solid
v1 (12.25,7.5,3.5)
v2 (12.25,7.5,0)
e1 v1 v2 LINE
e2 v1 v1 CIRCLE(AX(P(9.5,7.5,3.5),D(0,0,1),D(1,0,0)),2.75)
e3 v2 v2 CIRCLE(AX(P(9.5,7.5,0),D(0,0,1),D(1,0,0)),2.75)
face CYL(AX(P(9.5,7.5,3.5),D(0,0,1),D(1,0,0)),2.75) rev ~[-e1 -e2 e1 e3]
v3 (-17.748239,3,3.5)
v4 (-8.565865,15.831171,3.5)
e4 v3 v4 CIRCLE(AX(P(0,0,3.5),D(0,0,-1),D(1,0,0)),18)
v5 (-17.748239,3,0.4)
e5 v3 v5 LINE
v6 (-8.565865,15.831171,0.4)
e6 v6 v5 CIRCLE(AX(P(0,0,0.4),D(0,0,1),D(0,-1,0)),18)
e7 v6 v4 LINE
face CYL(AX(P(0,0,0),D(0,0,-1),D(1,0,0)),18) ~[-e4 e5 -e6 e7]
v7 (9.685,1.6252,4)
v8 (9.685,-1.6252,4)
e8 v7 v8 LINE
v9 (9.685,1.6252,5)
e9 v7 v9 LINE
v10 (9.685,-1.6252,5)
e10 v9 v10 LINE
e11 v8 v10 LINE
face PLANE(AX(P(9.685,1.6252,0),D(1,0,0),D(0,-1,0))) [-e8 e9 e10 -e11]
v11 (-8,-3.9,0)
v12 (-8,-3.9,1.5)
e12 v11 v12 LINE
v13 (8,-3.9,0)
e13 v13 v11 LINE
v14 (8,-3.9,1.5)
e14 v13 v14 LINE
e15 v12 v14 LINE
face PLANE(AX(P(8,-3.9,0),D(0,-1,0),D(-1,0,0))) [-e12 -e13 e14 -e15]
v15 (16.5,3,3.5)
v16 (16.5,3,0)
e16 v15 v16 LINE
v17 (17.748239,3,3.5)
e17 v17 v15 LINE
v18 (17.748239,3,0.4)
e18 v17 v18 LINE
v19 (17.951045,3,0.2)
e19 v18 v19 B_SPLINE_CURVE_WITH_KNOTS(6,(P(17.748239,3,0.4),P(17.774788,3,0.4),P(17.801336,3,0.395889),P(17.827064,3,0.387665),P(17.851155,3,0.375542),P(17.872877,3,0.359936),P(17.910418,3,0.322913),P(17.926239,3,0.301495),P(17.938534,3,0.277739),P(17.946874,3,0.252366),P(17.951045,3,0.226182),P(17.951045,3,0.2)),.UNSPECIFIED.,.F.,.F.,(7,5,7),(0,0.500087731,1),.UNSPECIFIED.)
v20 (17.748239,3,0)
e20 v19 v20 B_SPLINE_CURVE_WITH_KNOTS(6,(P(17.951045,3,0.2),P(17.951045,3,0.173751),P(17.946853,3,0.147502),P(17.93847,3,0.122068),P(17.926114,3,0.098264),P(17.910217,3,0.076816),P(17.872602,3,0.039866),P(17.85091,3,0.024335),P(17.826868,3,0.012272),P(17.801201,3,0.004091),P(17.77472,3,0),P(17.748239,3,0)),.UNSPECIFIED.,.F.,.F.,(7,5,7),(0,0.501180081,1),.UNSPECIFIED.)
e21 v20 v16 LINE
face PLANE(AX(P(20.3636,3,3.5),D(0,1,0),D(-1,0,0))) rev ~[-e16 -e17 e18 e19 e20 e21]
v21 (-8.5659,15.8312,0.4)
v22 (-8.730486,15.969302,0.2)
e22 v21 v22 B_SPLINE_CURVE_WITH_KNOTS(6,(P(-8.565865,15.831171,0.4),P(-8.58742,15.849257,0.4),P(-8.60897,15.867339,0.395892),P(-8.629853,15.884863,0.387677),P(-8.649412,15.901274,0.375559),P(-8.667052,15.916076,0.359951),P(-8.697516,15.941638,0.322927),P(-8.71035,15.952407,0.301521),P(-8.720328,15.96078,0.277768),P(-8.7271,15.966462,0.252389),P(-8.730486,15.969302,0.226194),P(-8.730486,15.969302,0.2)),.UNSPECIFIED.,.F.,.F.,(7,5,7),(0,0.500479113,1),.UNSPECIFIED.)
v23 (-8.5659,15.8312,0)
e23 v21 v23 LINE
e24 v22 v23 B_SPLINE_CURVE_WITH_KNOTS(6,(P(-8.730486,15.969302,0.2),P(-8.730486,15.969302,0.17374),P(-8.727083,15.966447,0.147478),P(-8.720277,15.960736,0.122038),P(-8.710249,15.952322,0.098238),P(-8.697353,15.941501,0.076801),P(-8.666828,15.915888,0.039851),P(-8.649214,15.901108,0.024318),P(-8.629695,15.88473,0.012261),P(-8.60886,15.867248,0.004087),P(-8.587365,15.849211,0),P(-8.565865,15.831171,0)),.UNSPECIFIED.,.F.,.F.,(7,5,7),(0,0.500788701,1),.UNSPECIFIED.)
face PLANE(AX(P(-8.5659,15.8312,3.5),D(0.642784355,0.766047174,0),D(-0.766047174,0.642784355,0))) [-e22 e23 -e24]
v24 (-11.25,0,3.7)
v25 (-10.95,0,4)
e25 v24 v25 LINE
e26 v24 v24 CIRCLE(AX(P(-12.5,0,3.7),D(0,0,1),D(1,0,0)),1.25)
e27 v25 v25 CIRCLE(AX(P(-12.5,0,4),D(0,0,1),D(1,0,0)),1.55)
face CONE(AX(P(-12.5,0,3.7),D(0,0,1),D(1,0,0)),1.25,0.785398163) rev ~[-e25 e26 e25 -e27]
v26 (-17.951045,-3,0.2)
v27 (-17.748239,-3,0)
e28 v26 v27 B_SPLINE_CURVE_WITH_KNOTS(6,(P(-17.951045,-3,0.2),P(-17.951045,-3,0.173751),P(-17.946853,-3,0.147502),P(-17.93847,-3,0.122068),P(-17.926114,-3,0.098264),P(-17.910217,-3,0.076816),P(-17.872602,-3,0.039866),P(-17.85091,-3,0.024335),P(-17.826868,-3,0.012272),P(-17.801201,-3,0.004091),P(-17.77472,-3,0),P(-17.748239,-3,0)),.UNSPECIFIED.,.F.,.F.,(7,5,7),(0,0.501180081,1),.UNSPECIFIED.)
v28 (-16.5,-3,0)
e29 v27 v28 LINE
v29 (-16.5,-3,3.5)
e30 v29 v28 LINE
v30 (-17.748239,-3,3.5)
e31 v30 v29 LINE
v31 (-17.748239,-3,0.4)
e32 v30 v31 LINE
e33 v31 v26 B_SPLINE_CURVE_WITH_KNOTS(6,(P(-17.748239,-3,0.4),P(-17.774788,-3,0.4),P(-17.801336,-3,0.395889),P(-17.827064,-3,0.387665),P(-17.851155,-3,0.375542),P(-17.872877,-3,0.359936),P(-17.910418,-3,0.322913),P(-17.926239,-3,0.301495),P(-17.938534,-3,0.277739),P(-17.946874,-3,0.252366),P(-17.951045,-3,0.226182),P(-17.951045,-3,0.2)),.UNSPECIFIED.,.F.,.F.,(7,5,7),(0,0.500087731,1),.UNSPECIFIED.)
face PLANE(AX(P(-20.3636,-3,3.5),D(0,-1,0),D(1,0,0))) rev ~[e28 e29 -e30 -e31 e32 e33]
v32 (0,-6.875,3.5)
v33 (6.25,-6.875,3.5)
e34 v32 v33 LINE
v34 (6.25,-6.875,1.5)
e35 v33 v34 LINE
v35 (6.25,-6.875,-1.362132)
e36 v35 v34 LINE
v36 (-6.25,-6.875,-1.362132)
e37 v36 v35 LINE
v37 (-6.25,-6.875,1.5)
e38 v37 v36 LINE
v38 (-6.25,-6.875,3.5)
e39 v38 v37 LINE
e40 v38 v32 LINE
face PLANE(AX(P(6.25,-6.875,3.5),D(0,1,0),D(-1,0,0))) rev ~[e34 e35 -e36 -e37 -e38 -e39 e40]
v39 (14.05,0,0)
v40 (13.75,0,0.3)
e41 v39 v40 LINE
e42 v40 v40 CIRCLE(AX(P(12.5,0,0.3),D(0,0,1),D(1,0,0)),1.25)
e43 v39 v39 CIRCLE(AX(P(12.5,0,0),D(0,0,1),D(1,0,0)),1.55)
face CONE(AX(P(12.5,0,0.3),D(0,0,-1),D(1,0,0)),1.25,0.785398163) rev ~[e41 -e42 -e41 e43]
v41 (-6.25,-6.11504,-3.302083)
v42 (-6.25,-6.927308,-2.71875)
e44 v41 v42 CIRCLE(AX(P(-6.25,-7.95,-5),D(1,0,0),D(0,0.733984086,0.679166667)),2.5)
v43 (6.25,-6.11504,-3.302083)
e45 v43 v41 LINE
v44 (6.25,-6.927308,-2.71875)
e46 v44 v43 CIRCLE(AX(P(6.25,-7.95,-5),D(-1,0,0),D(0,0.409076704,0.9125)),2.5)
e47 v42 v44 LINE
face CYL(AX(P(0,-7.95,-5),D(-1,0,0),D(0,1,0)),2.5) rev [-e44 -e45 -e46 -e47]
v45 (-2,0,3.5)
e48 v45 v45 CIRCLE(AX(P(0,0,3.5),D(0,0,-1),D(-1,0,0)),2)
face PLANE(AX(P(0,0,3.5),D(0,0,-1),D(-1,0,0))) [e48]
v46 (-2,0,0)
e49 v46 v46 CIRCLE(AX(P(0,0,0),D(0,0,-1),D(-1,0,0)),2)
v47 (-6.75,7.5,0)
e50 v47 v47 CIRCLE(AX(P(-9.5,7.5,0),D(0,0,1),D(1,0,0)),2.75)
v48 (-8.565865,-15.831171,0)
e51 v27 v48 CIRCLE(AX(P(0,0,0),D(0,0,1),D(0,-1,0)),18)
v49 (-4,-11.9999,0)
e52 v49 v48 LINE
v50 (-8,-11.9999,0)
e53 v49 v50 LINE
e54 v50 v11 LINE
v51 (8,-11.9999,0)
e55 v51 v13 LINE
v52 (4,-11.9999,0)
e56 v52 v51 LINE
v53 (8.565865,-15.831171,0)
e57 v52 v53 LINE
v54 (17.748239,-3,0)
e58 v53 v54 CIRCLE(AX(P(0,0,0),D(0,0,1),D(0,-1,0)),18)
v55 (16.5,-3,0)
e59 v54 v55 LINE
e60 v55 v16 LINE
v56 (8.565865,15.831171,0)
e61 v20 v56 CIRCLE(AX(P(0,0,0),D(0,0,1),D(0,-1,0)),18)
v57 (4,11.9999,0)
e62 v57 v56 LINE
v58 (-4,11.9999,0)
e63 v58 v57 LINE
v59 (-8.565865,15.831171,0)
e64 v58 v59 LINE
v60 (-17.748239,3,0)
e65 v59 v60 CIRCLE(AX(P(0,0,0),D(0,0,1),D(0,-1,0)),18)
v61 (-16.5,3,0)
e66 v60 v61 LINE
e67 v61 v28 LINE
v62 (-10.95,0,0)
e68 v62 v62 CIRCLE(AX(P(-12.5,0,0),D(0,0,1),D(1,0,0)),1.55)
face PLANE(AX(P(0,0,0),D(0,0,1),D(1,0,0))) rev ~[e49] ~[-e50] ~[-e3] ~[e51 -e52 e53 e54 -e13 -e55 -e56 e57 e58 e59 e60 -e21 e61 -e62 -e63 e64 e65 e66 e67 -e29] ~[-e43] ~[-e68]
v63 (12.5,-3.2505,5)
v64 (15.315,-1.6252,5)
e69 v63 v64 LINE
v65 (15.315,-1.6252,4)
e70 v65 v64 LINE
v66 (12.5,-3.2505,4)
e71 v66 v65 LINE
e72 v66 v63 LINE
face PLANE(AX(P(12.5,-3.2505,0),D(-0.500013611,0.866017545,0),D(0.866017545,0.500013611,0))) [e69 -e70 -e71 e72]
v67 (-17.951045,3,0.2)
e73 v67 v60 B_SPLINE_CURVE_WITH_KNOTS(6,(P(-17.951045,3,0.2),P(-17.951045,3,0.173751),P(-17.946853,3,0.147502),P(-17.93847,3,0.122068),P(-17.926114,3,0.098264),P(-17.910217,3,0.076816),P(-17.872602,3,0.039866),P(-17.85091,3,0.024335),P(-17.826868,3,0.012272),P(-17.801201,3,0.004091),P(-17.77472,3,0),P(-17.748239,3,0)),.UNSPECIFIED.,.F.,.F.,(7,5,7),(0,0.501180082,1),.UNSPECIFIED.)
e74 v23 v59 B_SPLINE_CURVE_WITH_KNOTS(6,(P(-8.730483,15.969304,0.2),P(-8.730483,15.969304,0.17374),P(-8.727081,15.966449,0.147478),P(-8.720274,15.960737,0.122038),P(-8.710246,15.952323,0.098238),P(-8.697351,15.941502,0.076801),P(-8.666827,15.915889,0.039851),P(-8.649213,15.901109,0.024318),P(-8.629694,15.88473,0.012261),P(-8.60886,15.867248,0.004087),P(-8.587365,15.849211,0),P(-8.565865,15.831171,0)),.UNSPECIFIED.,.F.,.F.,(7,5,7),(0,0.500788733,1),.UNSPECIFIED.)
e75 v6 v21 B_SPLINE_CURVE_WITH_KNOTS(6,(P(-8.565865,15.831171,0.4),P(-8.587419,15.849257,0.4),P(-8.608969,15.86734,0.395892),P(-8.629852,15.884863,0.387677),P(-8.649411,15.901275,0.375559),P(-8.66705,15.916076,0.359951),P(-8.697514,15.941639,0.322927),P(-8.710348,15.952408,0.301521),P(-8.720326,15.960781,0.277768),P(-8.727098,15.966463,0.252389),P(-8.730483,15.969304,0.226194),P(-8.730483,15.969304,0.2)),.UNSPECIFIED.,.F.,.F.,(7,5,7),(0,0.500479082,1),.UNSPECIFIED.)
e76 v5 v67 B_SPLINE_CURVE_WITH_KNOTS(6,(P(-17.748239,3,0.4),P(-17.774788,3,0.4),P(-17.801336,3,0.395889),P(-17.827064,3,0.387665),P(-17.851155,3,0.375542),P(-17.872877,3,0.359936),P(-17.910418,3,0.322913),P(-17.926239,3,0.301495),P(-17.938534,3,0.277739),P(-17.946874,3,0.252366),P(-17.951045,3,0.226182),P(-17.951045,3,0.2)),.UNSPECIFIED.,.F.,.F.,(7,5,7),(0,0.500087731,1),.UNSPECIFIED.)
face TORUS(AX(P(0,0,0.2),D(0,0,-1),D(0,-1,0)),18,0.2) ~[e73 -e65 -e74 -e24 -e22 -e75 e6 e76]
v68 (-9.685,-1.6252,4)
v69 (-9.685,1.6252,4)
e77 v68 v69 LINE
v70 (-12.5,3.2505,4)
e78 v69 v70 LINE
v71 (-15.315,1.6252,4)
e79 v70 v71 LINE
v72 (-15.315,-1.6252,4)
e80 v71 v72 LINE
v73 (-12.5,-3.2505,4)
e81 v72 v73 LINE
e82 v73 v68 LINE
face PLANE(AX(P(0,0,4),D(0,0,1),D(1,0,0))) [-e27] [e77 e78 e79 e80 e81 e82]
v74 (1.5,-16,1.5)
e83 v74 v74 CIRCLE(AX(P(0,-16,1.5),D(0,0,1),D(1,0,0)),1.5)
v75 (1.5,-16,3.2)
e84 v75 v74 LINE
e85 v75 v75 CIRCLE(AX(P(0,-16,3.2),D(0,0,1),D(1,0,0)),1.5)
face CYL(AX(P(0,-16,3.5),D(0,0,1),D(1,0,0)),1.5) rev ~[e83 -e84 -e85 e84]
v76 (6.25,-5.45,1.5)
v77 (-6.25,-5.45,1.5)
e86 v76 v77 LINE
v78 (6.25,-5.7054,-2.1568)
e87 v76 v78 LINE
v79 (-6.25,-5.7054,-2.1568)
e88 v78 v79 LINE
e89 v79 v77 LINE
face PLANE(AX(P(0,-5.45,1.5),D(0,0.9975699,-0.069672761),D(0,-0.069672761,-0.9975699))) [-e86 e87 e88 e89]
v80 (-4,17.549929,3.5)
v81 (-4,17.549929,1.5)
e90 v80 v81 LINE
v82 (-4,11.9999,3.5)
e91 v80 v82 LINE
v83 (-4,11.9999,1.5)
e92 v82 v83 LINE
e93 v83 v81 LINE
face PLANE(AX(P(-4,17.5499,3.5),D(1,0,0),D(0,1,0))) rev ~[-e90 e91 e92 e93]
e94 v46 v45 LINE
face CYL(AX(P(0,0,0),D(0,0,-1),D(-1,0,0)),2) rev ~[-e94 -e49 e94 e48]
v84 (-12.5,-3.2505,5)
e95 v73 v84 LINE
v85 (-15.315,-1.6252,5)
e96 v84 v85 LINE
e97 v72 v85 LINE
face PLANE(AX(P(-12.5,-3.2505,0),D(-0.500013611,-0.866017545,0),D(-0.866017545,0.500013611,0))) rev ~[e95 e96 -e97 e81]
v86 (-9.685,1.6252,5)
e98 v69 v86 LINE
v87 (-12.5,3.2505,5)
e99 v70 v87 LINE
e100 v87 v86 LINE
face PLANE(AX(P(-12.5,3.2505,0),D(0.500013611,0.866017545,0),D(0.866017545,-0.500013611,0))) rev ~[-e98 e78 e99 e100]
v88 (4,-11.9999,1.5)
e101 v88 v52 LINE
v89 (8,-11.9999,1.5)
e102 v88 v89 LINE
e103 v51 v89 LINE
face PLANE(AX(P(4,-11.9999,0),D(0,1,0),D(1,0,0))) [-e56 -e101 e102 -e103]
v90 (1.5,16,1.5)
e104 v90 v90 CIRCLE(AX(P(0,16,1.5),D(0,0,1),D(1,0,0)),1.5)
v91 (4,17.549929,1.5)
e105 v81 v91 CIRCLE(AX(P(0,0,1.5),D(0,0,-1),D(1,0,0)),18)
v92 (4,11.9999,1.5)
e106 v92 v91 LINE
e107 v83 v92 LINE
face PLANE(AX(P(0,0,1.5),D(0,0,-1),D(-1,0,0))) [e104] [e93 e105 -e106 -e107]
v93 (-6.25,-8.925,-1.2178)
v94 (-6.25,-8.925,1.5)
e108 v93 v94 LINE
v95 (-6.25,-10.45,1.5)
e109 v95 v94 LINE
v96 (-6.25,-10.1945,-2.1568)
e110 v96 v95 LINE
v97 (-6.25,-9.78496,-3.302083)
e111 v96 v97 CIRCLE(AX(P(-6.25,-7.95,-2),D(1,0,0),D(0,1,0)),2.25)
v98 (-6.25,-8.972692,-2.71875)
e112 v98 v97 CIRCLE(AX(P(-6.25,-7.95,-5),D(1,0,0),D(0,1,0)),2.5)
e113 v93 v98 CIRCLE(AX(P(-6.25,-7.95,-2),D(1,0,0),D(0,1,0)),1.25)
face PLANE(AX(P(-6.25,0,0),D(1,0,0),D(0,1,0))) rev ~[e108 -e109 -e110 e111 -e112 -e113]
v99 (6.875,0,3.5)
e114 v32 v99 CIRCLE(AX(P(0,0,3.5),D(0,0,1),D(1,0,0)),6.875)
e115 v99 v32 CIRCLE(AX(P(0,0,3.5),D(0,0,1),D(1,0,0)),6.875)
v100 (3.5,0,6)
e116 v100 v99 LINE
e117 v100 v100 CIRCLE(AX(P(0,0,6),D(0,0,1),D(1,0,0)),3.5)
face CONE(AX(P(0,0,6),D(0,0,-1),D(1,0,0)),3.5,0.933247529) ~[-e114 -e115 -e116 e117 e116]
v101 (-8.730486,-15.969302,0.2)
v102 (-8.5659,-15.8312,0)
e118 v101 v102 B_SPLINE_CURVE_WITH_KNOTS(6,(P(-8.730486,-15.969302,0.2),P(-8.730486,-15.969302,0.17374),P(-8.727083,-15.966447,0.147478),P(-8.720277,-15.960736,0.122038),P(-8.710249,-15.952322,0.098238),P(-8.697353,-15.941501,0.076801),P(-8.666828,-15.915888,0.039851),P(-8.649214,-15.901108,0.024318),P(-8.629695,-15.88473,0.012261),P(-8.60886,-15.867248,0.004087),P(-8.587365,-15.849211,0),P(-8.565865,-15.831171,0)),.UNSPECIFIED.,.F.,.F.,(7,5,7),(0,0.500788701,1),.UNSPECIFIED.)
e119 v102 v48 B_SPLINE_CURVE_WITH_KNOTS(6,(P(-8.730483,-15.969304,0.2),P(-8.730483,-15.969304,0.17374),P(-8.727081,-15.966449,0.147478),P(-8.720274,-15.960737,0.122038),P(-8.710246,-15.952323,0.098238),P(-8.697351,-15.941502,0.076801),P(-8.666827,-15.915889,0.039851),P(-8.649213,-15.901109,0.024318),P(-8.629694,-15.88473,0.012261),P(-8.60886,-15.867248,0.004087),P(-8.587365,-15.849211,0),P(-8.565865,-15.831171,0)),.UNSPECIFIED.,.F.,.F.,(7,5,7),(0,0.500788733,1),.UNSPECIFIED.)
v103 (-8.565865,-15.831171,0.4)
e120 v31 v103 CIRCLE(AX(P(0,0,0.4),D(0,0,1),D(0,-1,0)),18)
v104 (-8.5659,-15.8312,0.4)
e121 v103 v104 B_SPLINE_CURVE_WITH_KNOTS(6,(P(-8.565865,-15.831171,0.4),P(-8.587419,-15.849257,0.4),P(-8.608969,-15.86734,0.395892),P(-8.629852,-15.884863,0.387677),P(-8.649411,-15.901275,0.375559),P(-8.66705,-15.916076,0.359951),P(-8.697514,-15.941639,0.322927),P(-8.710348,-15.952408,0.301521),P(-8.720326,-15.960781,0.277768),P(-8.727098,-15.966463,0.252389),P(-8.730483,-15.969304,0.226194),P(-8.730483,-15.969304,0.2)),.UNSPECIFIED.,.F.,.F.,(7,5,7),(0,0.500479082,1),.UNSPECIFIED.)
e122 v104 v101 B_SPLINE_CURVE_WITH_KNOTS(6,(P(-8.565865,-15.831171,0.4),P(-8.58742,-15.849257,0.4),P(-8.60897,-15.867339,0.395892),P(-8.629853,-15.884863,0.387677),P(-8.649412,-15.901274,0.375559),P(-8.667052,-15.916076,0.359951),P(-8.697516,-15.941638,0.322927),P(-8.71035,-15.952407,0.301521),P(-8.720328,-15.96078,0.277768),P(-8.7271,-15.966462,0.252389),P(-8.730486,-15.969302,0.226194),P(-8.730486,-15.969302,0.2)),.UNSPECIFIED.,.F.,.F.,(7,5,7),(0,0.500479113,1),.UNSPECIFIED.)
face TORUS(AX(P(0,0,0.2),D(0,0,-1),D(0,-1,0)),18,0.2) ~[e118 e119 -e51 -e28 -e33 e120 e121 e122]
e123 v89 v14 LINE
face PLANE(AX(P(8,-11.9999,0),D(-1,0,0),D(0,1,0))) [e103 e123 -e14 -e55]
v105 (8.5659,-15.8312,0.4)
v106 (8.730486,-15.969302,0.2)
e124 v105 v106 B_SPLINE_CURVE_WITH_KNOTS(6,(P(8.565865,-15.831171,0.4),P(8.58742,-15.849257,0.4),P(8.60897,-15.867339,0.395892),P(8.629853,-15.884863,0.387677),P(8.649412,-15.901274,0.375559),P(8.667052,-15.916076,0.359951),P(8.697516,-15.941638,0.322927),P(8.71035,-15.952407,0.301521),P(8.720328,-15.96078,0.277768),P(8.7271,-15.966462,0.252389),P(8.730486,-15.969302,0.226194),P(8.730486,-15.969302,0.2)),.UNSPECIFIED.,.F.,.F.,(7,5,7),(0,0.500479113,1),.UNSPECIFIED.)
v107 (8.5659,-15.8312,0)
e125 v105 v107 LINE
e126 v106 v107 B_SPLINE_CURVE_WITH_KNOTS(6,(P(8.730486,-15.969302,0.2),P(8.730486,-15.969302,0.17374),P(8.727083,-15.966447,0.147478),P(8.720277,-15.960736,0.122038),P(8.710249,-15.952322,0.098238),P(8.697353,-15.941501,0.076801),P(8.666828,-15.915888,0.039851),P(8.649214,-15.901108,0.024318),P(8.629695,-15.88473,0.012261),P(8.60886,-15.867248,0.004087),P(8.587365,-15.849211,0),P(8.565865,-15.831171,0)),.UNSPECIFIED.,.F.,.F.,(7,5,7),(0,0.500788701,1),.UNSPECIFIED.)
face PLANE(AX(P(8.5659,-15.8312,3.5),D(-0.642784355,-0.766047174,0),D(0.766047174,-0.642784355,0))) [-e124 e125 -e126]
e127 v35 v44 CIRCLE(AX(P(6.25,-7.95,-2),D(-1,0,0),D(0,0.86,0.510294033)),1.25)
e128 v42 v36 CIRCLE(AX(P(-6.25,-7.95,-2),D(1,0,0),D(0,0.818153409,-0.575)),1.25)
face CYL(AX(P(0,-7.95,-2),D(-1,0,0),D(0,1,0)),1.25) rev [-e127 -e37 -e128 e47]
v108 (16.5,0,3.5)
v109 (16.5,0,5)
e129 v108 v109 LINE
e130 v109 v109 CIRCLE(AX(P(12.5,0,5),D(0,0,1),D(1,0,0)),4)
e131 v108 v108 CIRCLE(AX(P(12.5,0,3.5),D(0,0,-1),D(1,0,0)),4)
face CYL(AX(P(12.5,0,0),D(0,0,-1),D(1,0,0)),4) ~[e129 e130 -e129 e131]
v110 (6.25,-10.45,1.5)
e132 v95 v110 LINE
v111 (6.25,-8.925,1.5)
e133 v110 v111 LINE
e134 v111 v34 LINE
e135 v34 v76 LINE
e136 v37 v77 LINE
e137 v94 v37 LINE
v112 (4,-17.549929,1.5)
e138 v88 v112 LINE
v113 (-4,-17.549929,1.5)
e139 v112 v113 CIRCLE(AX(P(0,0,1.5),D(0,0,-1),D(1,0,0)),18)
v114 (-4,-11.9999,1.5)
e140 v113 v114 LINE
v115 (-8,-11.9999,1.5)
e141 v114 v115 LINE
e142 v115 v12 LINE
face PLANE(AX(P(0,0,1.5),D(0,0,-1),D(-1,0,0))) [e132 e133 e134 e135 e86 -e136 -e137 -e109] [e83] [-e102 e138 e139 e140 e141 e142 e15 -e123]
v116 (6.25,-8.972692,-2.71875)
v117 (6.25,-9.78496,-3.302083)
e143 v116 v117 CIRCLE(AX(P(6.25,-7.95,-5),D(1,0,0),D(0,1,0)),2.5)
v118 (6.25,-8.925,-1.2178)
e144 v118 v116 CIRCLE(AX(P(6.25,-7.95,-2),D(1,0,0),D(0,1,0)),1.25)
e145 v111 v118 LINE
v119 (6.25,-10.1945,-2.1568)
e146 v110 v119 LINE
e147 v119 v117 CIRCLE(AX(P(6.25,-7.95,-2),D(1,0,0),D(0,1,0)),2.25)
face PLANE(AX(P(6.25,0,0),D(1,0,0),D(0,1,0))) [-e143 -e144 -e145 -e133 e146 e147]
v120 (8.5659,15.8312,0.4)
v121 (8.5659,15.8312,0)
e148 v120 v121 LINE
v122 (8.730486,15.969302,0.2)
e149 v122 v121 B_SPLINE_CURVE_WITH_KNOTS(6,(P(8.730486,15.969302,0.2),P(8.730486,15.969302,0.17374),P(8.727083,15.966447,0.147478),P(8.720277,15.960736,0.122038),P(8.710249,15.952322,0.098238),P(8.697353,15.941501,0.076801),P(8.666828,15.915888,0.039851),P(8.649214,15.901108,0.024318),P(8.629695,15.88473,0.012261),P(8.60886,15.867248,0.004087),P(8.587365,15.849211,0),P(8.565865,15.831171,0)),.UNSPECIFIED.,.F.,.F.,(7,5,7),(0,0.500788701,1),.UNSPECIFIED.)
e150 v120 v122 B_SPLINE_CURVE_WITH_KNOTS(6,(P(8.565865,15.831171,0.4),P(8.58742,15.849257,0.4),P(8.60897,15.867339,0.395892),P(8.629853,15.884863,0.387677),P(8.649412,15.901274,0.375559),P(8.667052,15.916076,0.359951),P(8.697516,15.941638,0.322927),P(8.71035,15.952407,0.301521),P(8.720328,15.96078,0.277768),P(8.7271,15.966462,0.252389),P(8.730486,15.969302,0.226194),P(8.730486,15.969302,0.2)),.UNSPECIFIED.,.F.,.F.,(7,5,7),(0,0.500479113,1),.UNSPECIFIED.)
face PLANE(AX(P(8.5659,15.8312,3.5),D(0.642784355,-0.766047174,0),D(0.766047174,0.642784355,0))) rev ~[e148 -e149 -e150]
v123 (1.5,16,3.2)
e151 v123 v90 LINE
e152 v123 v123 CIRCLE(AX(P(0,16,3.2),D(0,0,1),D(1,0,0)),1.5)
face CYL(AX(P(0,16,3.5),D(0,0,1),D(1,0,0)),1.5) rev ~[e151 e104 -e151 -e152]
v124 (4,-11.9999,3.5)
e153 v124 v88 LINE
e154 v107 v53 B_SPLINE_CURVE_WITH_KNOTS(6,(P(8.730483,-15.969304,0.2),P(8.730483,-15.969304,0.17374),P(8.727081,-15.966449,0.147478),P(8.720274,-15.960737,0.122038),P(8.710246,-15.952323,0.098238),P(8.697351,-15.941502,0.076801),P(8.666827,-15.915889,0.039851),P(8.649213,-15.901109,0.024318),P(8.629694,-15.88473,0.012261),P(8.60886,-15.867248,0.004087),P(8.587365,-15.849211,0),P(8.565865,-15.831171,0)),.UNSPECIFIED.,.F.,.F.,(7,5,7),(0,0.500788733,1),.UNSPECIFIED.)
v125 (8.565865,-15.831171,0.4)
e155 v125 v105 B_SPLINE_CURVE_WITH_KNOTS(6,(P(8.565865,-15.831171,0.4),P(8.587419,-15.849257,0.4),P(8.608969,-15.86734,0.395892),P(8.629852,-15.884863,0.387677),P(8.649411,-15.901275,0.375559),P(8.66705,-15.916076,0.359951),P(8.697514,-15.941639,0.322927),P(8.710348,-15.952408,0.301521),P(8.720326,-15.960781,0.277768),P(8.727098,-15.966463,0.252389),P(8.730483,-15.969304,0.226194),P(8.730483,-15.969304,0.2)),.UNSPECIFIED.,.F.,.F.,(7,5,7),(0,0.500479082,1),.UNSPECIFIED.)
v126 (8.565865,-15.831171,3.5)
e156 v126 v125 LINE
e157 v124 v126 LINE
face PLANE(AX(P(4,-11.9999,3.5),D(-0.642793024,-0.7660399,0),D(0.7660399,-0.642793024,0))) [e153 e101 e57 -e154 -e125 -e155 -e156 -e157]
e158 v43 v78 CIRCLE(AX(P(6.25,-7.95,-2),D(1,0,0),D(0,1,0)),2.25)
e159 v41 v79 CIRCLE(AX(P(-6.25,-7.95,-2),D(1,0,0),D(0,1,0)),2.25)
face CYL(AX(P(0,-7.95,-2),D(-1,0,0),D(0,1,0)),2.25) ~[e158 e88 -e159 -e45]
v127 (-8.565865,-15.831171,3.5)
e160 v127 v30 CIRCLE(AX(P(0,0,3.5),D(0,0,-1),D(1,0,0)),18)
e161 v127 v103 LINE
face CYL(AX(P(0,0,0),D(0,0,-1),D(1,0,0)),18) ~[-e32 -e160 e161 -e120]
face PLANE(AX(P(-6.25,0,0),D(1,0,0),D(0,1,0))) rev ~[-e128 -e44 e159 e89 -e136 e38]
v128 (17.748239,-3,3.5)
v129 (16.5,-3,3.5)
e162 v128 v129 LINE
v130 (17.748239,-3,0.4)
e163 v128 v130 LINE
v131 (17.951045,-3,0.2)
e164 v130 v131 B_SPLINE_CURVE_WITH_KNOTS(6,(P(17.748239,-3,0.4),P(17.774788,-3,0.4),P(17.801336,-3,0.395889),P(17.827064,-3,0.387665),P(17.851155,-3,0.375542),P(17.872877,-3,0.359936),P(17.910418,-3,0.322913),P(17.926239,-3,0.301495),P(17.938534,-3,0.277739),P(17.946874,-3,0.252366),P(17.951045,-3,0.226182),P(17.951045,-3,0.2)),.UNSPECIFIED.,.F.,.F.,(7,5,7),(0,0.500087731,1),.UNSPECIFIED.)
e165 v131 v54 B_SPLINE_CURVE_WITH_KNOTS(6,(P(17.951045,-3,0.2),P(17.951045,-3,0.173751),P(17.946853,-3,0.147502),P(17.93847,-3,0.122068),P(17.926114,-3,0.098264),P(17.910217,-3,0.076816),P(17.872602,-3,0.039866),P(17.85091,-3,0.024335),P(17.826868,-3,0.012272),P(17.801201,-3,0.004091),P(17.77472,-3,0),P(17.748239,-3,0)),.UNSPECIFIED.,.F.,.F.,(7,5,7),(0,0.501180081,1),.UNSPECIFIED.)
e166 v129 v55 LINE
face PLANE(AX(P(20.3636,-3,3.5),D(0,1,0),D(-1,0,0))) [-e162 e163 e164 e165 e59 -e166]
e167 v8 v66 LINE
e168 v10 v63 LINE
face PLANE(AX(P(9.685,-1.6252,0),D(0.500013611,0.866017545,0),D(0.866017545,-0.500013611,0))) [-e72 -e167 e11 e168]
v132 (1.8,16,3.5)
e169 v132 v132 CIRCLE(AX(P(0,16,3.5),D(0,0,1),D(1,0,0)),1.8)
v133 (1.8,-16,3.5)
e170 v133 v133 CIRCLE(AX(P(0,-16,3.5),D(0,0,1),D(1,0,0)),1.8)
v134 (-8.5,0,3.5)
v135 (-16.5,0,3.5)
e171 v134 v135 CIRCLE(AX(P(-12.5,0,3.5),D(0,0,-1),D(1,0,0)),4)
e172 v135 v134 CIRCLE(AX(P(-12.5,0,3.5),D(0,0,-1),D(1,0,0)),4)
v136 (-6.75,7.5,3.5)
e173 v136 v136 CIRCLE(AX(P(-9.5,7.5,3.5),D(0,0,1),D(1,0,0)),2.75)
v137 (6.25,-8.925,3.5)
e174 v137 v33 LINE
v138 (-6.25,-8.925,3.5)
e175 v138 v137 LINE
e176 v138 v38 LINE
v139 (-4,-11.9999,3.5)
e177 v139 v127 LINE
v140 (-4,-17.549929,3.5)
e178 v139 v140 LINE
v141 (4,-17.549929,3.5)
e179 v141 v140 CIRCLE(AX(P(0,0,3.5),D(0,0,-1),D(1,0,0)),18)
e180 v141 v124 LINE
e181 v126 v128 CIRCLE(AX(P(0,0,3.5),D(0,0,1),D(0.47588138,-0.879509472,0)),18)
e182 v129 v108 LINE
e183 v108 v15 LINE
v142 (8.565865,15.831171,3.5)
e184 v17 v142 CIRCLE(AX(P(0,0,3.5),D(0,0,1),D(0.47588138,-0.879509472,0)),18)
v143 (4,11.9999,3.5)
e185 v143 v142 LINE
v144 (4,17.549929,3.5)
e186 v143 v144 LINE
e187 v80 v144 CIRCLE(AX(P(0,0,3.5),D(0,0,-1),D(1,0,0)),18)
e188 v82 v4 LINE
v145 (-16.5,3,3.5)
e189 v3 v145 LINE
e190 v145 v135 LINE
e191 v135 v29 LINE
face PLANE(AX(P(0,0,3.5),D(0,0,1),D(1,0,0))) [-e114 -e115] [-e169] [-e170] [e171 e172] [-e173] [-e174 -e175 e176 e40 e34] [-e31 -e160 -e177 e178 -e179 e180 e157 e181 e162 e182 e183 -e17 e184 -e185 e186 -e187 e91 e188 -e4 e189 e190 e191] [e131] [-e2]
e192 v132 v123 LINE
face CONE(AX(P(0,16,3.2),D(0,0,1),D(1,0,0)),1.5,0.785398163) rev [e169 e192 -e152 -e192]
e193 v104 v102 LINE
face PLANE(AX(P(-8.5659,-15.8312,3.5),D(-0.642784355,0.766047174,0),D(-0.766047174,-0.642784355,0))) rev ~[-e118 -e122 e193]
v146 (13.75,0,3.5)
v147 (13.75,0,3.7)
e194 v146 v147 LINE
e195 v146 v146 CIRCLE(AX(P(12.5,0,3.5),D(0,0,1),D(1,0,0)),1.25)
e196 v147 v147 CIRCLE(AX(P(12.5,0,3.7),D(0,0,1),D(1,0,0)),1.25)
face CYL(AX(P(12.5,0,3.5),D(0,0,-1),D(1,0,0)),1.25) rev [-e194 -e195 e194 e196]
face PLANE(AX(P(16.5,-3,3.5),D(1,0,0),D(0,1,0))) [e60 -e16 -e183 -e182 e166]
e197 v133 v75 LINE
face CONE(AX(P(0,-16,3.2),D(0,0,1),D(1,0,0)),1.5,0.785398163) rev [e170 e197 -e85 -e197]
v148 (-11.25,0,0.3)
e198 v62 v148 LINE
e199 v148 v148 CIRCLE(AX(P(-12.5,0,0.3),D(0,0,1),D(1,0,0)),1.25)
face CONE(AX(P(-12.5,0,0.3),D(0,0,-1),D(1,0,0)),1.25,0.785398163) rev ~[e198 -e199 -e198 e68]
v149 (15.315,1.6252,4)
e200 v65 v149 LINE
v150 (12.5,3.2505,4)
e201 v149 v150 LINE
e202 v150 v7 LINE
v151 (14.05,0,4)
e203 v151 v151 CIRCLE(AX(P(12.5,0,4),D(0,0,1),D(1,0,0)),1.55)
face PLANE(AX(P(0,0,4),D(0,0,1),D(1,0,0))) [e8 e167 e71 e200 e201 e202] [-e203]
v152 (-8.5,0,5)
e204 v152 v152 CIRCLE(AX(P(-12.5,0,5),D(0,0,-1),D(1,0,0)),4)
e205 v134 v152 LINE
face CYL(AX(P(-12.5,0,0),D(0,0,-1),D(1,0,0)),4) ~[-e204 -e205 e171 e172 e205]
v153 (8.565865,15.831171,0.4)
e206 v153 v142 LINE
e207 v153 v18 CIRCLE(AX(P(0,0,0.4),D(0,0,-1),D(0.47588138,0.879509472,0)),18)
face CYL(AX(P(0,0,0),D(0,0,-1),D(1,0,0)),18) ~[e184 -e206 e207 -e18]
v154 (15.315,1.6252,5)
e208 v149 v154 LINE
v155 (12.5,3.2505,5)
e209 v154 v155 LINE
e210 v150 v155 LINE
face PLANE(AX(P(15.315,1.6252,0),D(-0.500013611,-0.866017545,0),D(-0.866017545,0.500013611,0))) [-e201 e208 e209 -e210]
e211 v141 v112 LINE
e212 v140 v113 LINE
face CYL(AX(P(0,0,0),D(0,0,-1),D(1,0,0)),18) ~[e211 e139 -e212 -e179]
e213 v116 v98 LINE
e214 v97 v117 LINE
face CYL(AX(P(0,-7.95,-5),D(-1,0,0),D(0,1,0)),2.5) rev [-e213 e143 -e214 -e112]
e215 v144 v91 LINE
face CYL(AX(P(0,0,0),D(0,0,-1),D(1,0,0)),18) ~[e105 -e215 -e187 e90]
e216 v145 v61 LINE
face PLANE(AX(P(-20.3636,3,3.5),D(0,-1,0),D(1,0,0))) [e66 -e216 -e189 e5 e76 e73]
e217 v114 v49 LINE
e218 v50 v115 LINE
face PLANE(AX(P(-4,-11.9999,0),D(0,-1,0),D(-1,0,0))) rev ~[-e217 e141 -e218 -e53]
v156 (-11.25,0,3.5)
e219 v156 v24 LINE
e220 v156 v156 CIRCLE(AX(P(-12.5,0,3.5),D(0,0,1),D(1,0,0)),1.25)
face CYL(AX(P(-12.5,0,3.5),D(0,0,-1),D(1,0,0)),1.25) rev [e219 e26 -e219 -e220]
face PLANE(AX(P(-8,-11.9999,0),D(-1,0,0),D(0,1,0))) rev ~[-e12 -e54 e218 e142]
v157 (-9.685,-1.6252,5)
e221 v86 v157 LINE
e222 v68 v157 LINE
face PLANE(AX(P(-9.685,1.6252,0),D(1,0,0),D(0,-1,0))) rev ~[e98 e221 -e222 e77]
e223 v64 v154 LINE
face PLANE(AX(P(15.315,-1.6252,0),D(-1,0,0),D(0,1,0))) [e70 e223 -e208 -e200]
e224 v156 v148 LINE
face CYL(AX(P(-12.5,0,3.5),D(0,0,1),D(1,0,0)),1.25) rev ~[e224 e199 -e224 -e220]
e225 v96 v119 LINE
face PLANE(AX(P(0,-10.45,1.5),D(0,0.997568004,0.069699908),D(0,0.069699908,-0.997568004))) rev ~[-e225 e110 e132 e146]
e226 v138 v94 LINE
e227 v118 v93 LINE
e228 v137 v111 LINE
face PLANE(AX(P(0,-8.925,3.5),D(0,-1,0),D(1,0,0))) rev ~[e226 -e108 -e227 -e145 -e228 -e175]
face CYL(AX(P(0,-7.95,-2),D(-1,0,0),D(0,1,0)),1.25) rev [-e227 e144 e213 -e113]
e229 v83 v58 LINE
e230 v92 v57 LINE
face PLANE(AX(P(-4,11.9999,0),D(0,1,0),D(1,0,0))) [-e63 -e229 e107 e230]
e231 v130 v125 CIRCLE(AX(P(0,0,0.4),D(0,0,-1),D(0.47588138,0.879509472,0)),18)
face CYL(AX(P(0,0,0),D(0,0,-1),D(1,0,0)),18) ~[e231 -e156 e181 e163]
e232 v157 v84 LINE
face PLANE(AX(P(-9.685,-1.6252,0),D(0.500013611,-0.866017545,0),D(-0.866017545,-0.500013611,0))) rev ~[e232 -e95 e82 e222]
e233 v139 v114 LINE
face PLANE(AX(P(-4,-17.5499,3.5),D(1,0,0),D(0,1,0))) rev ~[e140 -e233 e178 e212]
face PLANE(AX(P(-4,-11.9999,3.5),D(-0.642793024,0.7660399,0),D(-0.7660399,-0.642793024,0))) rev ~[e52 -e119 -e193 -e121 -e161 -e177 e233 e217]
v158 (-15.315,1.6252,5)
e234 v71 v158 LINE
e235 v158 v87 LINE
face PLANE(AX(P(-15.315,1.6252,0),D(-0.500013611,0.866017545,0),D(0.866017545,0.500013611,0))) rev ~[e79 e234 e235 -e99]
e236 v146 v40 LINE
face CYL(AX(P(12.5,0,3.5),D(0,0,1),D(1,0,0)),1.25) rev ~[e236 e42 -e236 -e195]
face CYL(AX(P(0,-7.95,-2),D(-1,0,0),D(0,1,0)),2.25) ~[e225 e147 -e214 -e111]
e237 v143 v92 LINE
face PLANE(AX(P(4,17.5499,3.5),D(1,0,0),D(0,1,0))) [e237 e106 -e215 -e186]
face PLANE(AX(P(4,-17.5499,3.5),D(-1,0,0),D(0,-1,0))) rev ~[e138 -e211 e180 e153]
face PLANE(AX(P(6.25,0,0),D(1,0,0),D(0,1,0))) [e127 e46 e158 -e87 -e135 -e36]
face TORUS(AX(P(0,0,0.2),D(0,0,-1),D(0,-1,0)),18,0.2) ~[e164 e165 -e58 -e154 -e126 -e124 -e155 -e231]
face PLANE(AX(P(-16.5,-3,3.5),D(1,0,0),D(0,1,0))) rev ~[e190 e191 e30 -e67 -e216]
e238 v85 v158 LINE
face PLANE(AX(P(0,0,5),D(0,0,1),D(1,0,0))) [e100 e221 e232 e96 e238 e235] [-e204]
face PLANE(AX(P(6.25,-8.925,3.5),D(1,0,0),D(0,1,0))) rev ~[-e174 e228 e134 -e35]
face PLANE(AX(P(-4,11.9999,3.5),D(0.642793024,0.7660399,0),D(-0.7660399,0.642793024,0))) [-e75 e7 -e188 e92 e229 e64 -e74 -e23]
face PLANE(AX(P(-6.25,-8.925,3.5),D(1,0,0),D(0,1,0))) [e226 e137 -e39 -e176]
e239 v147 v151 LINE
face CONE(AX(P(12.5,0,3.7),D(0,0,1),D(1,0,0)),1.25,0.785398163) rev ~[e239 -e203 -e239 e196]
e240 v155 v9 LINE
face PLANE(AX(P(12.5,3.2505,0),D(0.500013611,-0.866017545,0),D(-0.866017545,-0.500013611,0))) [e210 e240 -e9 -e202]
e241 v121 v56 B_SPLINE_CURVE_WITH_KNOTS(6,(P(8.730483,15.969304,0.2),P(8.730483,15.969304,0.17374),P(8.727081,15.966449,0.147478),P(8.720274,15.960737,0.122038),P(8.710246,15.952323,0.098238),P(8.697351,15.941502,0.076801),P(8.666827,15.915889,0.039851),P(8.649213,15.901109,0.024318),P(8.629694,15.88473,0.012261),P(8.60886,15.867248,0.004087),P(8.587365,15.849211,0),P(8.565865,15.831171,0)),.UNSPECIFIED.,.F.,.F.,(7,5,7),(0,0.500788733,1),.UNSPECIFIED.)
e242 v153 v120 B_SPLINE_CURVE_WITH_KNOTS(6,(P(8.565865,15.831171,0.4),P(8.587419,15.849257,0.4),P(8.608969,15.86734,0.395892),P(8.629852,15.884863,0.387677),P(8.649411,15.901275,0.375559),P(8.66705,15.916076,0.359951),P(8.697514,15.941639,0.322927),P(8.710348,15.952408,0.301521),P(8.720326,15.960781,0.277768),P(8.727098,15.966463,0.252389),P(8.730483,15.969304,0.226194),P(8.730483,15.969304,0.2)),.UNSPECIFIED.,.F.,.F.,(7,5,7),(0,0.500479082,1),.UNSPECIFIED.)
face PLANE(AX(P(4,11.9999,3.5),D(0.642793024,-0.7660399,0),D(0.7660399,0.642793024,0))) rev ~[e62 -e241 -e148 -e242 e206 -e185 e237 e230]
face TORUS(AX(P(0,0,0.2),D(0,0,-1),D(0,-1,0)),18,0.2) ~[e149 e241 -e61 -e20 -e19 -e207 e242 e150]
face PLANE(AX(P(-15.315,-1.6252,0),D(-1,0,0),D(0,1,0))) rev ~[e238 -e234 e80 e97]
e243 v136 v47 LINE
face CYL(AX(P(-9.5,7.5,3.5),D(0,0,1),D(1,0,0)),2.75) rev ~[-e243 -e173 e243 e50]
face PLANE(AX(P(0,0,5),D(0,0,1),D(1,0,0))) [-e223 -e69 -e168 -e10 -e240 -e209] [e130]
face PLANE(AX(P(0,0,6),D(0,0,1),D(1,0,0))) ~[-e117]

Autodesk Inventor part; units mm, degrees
ref_plane "YZ Plane" through (0, 0, 0) normal (1, 0, 0) x (0, 1, 0)
ref_plane "XZ Plane" through (0, 0, 0) normal (0, 1, 0) x (-1, 0, 0)
ref_plane "XY Plane" through (0, 0, 0) normal (0, 0, 1) x (1, 0, 0)
sketch "Sketch1" plane through (0, 0, 0) normal (0, 0, 1) x (1, 0, 0)
  circle A0 centre (0, 0) radius 18
  line L0 (0, 0) -> (0, 18) construction
  line L1 (4, 17.5499) -> (4, 11.9999)
  line L2 (4, 11.9999) -> (8.5659, 15.8312)
  line L3 (0, 0) -> (18, 0) construction
  line L4 (-4, 17.5499) -> (-4, 11.9999)
  line L5 (-4, 11.9999) -> (-8.5659, 15.8312)
  line L6 (4, -17.5499) -> (4, -11.9999)
  line L7 (4, -11.9999) -> (8.5659, -15.8312)
  line L8 (-4, -11.9999) -> (-8.5659, -15.8312)
  line L9 (-4, -17.5499) -> (-4, -11.9999)
  dimension "d1" = 50
  dimension "d2" = 36
  dimension "d3" = 5.55
  dimension "d4" = 8
extrude "Extrusion1" add sketch "Sketch1" along normal blind 3.5
sketch "Sketch2" plane through (0, 0, 0) normal (0, 1, 0) x (-1, 0, 0)
  line L0 (0, 0) -> (0, 6)
  line L1 (0, 6) -> (-3.5, 6)
  line L2 (-3.5, 6) -> (-6.875, 3.5)
  line L3 (8.5659, 3.5) -> (-18, 3.5) projected
  line L4 (8.5659, 0) -> (8.5659, 0) projected
  line L5 (-6.875, 3.5) -> (0, 3.5)
  line L6 (-8.5659, 3.5) -> (-4, 3.5) projected
  point P0 (-18, 0)
  point P1 (18, 0)
  dimension "d7" = 3.5
  dimension "d8" = 6
  dimension "d9" = 13.75
revolve "Revolution1" add sketch "Sketch2" angle 360 about axis through (0, 0, 0) along (0, 0, 1)
sketch "Sketch6" plane through (0, 0, 0) normal (1, 0, 0) x (0, 1, 0)
  circle A0 centre (-18, 0.2) radius 0.2
  line L0 (18, 0) -> (-18, 0) projected
  line L1 (-18, 0) -> (-18, 3.5) projected
  line L2 (0, 0) -> (0, 9.8131)
  point P0 (-18, 0.4)
  dimension "d28" = 0.4
revolve "Revolution2" add sketch "Sketch6" angle 360 about axis through (0, 0, 0) along (0, 0, 1) picked at (-18.0623, 0.1764) contours A0 L1
sketch "Sketch7" plane through (0, 0, 3.5) normal (0, 0, 1) x (1, 0, 0)
  line L0 (4, 17.5499) -> (4, 11.9999) projected
  line L1 (4, 11.9999) -> (8.5659, 15.8312) projected
  line L2 (-4, 17.5499) -> (-4, 11.9999) projected
  line L3 (-4, 11.9999) -> (-8.5659, 15.8312) projected
  line L4 (-4, -11.9999) -> (-8.5659, -15.8312) projected
  line L5 (-4, -17.5499) -> (-4, -11.9999) projected
  line L6 (4, -17.5499) -> (4, -11.9999) projected
  line L7 (4, -11.9999) -> (8.5659, -15.8312) projected
  line L8 (4, -17.5499) -> (4, -18.3914)
  line L9 (8.5659, -15.8312) -> (9.2402, -16.397)
  line L10 (0, 0) -> (0, -19.1276)
  line L11 (0, 0) -> (-12.703, 0)
  circle A0 centre (0, 0) radius 18.8214
  line L12 (-4, -17.5499) -> (-4, -18.3914)
  line L13 (-8.5659, -15.8312) -> (-9.2402, -16.397)
  line L14 (4, 17.5499) -> (4, 18.3914)
  line L15 (8.5659, 15.8312) -> (9.2402, 16.397)
  line L16 (-4, 17.5499) -> (-4, 18.3914)
  line L17 (-8.5659, 15.8312) -> (-9.2402, 16.397)
extrude "Extrusion5" cut sketch "Sketch7" against normal through all contours L14 A0 L15 L1 L0 | L16 L2 L3 L17 A0 | A0 L8 L6 L7 L9 | L13 L4 L5 L12 A0
sketch "Sketch4" plane through (0, 0, 3.5) normal (0, 0, 1) x (1, 0, 0)
  line L0 (0, 0) -> (0, -18)
  arc A0 (-8.5659, 15.8312) -> (-8.5659, -15.8312) centre (0, 0) ccw projected
  line L1 (0, -8.925) -> (-6.25, -8.925)
  line L2 (-6.25, -8.925) -> (-6.25, -6.875)
  line L3 (-6.25, -6.875) -> (0, -6.875)
  circle A1 centre (0, 0) radius 6.875 projected
  line L4 (0, -8.925) -> (6.25, -8.925)
  line L5 (6.25, -8.925) -> (6.25, -6.875)
  line L6 (6.25, -6.875) -> (0, -6.875)
  point P0 (-4, -17.5499)
  point P1 (4, -17.5499)
  dimension "d12" = 2.05
  dimension "d13" = 12.5
extrude "Extrusion2" cut sketch "Sketch4" against normal through all contours L6 L5 L4 L0 | L0 L1 L2 L3
sketch "Sketch3" plane through (0, 0, 0) normal (0, 0, -1) x (-1, 0, 0)
  line L0 (8.5659, -15.8312) -> (4, -11.9999) projected
  line L1 (8.5659, -15.8312) -> (4, -11.9999)
  line L2 (4, -11.9999) -> (8, -11.9999)
  line L3 (8, -11.9999) -> (8, -3.9)
  line L4 (8, -3.9) -> (-1.347, -3.9)
  line L5 (0, 0) -> (0, -22.6953) construction
  line L6 (8.5659, -15.8312) -> (9.347, -21.3508)
  line L7 (9.347, -21.3508) -> (0, -21.3508)
  line L8 (4, 11.9999) -> (8.5659, 15.8312) projected
  line L9 (8.5659, 15.8312) -> (4, 11.9999)
  line L10 (4, 11.9999) -> (-4, 11.9999)
  line L11 (-8.5659, 15.8312) -> (-4, 11.9999) projected
  line L12 (-4, 11.9999) -> (-8.5659, 15.8312)
  line L13 (-8.5659, 15.8312) -> (-8.5659, 22.0204)
  line L14 (-8.5659, 22.0204) -> (9.347, 21.5839)
  line L15 (9.347, 21.5839) -> (8.5659, 15.8312)
  line L16 (-8.5659, -15.8312) -> (-4, -11.9999)
  line L17 (-4, -11.9999) -> (-8, -11.9999)
  line L18 (-8, -11.9999) -> (-8, -3.9)
  line L19 (-8, -3.9) -> (-1.347, -3.9)
  line L20 (-8.5659, -15.8312) -> (-9.347, -21.3508)
  line L21 (-9.347, -21.3508) -> (0, -21.3508)
  line L22 (6.25, -8.925) -> (6.25, -6.875) projected
  line L23 (6.25, -7.9) -> (0, -7.9) construction
  line L24 (6.25, -7.9) -> (6.25, -5.4)
  line L25 (6.25, -5.4) -> (6.25, -3.9)
  dimension "d11" = 16
  dimension "d16" = 2.5
  dimension "d17" = 1.5
extrude "Extrusion3" cut sketch "Sketch3" against normal blind 1.5
sketch "Sketch5" plane through (0, 0, 0) normal (1, 0, 0) x (0, 1, 0)
  line L0 (-6.875, 1.5) -> (-8.925, 1.5) projected
  line L1 (-6.875, 1.5) -> (-6.875, -2.7432)
  line L2 (-11.9999, 1.5) -> (-3.9, 1.5) projected
  line L3 (-5.45, 1.5) -> (-5.7054, -2.1568)
  line L4 (-7.95, 1.5) -> (-7.95, -5) construction
  circle A0 centre (-7.95, -2) radius 1.25
  circle A1 centre (-7.95, -5) radius 2.5
  circle A2 centre (-7.95, -2) radius 2.25
  line L5 (-10.45, 1.5) -> (-10.1945, -2.1568)
  line L6 (-6.875, 3.5) -> (-8.925, 3.5) projected
  line L7 (-8.925, 3.5) -> (-8.925, 1.5) projected
  line L8 (-8.925, 1.5) -> (-8.925, -1.2178)
  line L9 (-8.925, 0.0278) -> (-8.925, -1.2178)
  line L10 (-5.45, 1.5) -> (-5.45, 0) construction
  line L11 (-11.9999, 0) -> (-3.9, 0) projected
  point P0 (0, 0)
  point P1 (-9.0249, -0.0234)
  point P2 (-6.875, -1.3621)
  point P3 (-6.9273, -2.7187)
  point P4 (-6.115, -3.3021)
  point P5 (-9.7849, -3.3021)
  point P6 (-8.9727, -2.7188)
  point P7 (-6.875, -2.6379)
  point P8 (-6.875, -2.7429)
  dimension "d21" = 2.5
  dimension "d20" = 5
  dimension "d22" = 4.5
  dimension "d23" = 5
  dimension "d24" = 5.5
  dimension "d25" = 3
extrude "Extrusion4" add sketch "Sketch5" along normal mid plane 12.5 contours L2 L3 L11 L1 | L8 A2 L11 L5 L2 | L11 L3 A2 L1 | L8 L11 A2 | A2 A1 L1 A0 | L11 A2 L5 | L11 L8 A0 A1 A2 | L1 A1 A0 picked at (-8.956, 0.0031) picked at (-6.8805, -2.682)
sketch "Sketch9" plane through (0, 0, 3.5) normal (0, 0, 1) x (1, 0, 0)
  line L0 (0, 0) -> (0, 19.9091)
  line L1 (0, 0) -> (-25.5758, 0)
  line L2 (-20.3636, 0) -> (-20.3636, 3)
  line L3 (-20.3636, 3) -> (-16.5, 3)
  line L4 (-16.5, 3) -> (-16.5, 0)
  line L5 (-20.3636, 0) -> (-20.3636, -3)
  line L6 (-16.5, -3) -> (-16.5, 0)
  line L7 (-20.3636, -3) -> (-16.5, -3)
  line L8 (20.3636, 0) -> (20.3636, 3)
  line L9 (20.3636, 3) -> (16.5, 3)
  line L10 (16.5, 3) -> (16.5, 0)
  line L11 (20.3636, 0) -> (20.3636, -3)
  line L12 (16.5, -3) -> (16.5, 0)
  line L13 (20.3636, -3) -> (16.5, -3)
  dimension "d34" = 6
  dimension "d35" = 33
extrude "Extrusion6" cut sketch "Sketch9" against normal through all
sketch "Sketch10" plane through (0, 0, 3.5) normal (0, 0, 1) x (1, 0, 0)
  circle A0 centre (-12.5, 0) radius 4
  line L0 (-12.5, 3.2505) -> (-9.685, 1.6252)
  line L1 (-9.685, 1.6252) -> (-9.685, -1.6252)
  line L2 (-9.685, -1.6252) -> (-12.5, -3.2505)
  line L3 (-12.5, -3.2505) -> (-15.315, -1.6252)
  line L4 (-15.315, -1.6252) -> (-15.315, 1.6252)
  line L5 (-15.315, 1.6252) -> (-12.5, 3.2505)
  line L6 (-12.5, 0) -> (-12.5, 3.2505)
  line L7 (-16.5, 3) -> (-16.5, -3) projected
  line L8 (0, 0) -> (0, 18.074)
  circle A1 centre (12.5, 0) radius 4
  line L9 (12.5, 3.2505) -> (9.685, 1.6252)
  line L10 (9.685, 1.6252) -> (9.685, -1.6252)
  line L11 (9.685, -1.6252) -> (12.5, -3.2505)
  line L12 (12.5, -3.2505) -> (15.315, -1.6252)
  line L13 (15.315, -1.6252) -> (15.315, 1.6252)
  line L14 (15.315, 1.6252) -> (12.5, 3.2505)
  line L15 (12.5, 0) -> (12.5, 3.2505)
  dimension "d38" = 8
  dimension "d42" = 5.63
extrude "Extrusion7" add sketch "Sketch10" along normal blind 5 from surface at -3.5
sketch "Sketch11" plane through (0, 0, 3.5) normal (0, 0, 1) x (1, 0, 0)
  circle A0 centre (-12.5, 0) radius 4 projected
  circle A1 centre (-12.5, 0) radius 1.25
  circle A2 centre (0, 16) radius 1.5
  circle A3 centre (-9.5, 7.5) radius 2.75
  line L0 (0, 0) -> (0, 18) construction
  arc A4 (4, 17.5499) -> (-4, 17.5499) centre (0, 0) ccw projected
  line L1 (0, 0) -> (6.926, 0) construction
  circle A5 centre (0, -16) radius 1.5
  circle A6 centre (12.5, 0) radius 1.25
  circle A7 centre (9.5, 7.5) radius 2.75
  point P0 (-16.5, 0)
  dimension "d43" = 2.5
  dimension "d44" = 3
  dimension "d45" = 5.5
  dimension "d46" = 7.5
  dimension "d47" = 19
  dimension "d48" = 32
extrude "Extrusion8" cut sketch "Sketch11" against normal through all contours A1 | A2 | A3 | A5 | A6 | A7
sketch "Sketch12" plane through (0, 0, 0) normal (0, 0, -1) x (-1, 0, 0)
  circle A0 centre (0, 0) radius 2
  dimension "d54" = 4
extrude "Extrusion9" cut sketch "Sketch12" against normal blind 3.5
sketch "Sketch13" plane through (0, 0, 3.5) normal (0, 0, 1) x (1, 0, 0)
  circle A0 centre (12.5, 0) radius 1.25 projected
  line L0 (12.5, 3.2505) -> (9.685, 1.6252) projected
  line L1 (9.685, 1.6252) -> (9.685, -1.6252) projected
  line L2 (9.685, -1.6252) -> (12.5, -3.2505) projected
  line L3 (12.5, -3.2505) -> (15.315, -1.6252) projected
  line L4 (15.315, -1.6252) -> (15.315, 1.6252) projected
  line L5 (15.315, 1.6252) -> (12.5, 3.2505) projected
  circle A1 centre (-12.5, 0) radius 1.25 projected
  line L6 (-12.5, 3.2505) -> (-15.315, 1.6252) projected
  line L7 (-15.315, 1.6252) -> (-15.315, -1.6252) projected
  line L8 (-15.315, -1.6252) -> (-12.5, -3.2505) projected
  line L9 (-12.5, -3.2505) -> (-9.685, -1.6252) projected
  line L10 (-9.685, -1.6252) -> (-9.685, 1.6252) projected
  line L11 (-9.685, 1.6252) -> (-12.5, 3.2505) projected
  point P0 (0, 0)
extrude "Extrusion10" add sketch "Sketch13" along normal blind 0.5
chamfer "Chamfer2" distance 0.3 angle 45 6 edges at (11.25, 0, 4) (-13.75, 0, 4) (-1.5, -16, 3.5) (-1.5, 16, 3.5) (-13.75, 0, 0) (11.25, 0, 0)
properties part number "18102021-002-02" material "Stainless Steel"
